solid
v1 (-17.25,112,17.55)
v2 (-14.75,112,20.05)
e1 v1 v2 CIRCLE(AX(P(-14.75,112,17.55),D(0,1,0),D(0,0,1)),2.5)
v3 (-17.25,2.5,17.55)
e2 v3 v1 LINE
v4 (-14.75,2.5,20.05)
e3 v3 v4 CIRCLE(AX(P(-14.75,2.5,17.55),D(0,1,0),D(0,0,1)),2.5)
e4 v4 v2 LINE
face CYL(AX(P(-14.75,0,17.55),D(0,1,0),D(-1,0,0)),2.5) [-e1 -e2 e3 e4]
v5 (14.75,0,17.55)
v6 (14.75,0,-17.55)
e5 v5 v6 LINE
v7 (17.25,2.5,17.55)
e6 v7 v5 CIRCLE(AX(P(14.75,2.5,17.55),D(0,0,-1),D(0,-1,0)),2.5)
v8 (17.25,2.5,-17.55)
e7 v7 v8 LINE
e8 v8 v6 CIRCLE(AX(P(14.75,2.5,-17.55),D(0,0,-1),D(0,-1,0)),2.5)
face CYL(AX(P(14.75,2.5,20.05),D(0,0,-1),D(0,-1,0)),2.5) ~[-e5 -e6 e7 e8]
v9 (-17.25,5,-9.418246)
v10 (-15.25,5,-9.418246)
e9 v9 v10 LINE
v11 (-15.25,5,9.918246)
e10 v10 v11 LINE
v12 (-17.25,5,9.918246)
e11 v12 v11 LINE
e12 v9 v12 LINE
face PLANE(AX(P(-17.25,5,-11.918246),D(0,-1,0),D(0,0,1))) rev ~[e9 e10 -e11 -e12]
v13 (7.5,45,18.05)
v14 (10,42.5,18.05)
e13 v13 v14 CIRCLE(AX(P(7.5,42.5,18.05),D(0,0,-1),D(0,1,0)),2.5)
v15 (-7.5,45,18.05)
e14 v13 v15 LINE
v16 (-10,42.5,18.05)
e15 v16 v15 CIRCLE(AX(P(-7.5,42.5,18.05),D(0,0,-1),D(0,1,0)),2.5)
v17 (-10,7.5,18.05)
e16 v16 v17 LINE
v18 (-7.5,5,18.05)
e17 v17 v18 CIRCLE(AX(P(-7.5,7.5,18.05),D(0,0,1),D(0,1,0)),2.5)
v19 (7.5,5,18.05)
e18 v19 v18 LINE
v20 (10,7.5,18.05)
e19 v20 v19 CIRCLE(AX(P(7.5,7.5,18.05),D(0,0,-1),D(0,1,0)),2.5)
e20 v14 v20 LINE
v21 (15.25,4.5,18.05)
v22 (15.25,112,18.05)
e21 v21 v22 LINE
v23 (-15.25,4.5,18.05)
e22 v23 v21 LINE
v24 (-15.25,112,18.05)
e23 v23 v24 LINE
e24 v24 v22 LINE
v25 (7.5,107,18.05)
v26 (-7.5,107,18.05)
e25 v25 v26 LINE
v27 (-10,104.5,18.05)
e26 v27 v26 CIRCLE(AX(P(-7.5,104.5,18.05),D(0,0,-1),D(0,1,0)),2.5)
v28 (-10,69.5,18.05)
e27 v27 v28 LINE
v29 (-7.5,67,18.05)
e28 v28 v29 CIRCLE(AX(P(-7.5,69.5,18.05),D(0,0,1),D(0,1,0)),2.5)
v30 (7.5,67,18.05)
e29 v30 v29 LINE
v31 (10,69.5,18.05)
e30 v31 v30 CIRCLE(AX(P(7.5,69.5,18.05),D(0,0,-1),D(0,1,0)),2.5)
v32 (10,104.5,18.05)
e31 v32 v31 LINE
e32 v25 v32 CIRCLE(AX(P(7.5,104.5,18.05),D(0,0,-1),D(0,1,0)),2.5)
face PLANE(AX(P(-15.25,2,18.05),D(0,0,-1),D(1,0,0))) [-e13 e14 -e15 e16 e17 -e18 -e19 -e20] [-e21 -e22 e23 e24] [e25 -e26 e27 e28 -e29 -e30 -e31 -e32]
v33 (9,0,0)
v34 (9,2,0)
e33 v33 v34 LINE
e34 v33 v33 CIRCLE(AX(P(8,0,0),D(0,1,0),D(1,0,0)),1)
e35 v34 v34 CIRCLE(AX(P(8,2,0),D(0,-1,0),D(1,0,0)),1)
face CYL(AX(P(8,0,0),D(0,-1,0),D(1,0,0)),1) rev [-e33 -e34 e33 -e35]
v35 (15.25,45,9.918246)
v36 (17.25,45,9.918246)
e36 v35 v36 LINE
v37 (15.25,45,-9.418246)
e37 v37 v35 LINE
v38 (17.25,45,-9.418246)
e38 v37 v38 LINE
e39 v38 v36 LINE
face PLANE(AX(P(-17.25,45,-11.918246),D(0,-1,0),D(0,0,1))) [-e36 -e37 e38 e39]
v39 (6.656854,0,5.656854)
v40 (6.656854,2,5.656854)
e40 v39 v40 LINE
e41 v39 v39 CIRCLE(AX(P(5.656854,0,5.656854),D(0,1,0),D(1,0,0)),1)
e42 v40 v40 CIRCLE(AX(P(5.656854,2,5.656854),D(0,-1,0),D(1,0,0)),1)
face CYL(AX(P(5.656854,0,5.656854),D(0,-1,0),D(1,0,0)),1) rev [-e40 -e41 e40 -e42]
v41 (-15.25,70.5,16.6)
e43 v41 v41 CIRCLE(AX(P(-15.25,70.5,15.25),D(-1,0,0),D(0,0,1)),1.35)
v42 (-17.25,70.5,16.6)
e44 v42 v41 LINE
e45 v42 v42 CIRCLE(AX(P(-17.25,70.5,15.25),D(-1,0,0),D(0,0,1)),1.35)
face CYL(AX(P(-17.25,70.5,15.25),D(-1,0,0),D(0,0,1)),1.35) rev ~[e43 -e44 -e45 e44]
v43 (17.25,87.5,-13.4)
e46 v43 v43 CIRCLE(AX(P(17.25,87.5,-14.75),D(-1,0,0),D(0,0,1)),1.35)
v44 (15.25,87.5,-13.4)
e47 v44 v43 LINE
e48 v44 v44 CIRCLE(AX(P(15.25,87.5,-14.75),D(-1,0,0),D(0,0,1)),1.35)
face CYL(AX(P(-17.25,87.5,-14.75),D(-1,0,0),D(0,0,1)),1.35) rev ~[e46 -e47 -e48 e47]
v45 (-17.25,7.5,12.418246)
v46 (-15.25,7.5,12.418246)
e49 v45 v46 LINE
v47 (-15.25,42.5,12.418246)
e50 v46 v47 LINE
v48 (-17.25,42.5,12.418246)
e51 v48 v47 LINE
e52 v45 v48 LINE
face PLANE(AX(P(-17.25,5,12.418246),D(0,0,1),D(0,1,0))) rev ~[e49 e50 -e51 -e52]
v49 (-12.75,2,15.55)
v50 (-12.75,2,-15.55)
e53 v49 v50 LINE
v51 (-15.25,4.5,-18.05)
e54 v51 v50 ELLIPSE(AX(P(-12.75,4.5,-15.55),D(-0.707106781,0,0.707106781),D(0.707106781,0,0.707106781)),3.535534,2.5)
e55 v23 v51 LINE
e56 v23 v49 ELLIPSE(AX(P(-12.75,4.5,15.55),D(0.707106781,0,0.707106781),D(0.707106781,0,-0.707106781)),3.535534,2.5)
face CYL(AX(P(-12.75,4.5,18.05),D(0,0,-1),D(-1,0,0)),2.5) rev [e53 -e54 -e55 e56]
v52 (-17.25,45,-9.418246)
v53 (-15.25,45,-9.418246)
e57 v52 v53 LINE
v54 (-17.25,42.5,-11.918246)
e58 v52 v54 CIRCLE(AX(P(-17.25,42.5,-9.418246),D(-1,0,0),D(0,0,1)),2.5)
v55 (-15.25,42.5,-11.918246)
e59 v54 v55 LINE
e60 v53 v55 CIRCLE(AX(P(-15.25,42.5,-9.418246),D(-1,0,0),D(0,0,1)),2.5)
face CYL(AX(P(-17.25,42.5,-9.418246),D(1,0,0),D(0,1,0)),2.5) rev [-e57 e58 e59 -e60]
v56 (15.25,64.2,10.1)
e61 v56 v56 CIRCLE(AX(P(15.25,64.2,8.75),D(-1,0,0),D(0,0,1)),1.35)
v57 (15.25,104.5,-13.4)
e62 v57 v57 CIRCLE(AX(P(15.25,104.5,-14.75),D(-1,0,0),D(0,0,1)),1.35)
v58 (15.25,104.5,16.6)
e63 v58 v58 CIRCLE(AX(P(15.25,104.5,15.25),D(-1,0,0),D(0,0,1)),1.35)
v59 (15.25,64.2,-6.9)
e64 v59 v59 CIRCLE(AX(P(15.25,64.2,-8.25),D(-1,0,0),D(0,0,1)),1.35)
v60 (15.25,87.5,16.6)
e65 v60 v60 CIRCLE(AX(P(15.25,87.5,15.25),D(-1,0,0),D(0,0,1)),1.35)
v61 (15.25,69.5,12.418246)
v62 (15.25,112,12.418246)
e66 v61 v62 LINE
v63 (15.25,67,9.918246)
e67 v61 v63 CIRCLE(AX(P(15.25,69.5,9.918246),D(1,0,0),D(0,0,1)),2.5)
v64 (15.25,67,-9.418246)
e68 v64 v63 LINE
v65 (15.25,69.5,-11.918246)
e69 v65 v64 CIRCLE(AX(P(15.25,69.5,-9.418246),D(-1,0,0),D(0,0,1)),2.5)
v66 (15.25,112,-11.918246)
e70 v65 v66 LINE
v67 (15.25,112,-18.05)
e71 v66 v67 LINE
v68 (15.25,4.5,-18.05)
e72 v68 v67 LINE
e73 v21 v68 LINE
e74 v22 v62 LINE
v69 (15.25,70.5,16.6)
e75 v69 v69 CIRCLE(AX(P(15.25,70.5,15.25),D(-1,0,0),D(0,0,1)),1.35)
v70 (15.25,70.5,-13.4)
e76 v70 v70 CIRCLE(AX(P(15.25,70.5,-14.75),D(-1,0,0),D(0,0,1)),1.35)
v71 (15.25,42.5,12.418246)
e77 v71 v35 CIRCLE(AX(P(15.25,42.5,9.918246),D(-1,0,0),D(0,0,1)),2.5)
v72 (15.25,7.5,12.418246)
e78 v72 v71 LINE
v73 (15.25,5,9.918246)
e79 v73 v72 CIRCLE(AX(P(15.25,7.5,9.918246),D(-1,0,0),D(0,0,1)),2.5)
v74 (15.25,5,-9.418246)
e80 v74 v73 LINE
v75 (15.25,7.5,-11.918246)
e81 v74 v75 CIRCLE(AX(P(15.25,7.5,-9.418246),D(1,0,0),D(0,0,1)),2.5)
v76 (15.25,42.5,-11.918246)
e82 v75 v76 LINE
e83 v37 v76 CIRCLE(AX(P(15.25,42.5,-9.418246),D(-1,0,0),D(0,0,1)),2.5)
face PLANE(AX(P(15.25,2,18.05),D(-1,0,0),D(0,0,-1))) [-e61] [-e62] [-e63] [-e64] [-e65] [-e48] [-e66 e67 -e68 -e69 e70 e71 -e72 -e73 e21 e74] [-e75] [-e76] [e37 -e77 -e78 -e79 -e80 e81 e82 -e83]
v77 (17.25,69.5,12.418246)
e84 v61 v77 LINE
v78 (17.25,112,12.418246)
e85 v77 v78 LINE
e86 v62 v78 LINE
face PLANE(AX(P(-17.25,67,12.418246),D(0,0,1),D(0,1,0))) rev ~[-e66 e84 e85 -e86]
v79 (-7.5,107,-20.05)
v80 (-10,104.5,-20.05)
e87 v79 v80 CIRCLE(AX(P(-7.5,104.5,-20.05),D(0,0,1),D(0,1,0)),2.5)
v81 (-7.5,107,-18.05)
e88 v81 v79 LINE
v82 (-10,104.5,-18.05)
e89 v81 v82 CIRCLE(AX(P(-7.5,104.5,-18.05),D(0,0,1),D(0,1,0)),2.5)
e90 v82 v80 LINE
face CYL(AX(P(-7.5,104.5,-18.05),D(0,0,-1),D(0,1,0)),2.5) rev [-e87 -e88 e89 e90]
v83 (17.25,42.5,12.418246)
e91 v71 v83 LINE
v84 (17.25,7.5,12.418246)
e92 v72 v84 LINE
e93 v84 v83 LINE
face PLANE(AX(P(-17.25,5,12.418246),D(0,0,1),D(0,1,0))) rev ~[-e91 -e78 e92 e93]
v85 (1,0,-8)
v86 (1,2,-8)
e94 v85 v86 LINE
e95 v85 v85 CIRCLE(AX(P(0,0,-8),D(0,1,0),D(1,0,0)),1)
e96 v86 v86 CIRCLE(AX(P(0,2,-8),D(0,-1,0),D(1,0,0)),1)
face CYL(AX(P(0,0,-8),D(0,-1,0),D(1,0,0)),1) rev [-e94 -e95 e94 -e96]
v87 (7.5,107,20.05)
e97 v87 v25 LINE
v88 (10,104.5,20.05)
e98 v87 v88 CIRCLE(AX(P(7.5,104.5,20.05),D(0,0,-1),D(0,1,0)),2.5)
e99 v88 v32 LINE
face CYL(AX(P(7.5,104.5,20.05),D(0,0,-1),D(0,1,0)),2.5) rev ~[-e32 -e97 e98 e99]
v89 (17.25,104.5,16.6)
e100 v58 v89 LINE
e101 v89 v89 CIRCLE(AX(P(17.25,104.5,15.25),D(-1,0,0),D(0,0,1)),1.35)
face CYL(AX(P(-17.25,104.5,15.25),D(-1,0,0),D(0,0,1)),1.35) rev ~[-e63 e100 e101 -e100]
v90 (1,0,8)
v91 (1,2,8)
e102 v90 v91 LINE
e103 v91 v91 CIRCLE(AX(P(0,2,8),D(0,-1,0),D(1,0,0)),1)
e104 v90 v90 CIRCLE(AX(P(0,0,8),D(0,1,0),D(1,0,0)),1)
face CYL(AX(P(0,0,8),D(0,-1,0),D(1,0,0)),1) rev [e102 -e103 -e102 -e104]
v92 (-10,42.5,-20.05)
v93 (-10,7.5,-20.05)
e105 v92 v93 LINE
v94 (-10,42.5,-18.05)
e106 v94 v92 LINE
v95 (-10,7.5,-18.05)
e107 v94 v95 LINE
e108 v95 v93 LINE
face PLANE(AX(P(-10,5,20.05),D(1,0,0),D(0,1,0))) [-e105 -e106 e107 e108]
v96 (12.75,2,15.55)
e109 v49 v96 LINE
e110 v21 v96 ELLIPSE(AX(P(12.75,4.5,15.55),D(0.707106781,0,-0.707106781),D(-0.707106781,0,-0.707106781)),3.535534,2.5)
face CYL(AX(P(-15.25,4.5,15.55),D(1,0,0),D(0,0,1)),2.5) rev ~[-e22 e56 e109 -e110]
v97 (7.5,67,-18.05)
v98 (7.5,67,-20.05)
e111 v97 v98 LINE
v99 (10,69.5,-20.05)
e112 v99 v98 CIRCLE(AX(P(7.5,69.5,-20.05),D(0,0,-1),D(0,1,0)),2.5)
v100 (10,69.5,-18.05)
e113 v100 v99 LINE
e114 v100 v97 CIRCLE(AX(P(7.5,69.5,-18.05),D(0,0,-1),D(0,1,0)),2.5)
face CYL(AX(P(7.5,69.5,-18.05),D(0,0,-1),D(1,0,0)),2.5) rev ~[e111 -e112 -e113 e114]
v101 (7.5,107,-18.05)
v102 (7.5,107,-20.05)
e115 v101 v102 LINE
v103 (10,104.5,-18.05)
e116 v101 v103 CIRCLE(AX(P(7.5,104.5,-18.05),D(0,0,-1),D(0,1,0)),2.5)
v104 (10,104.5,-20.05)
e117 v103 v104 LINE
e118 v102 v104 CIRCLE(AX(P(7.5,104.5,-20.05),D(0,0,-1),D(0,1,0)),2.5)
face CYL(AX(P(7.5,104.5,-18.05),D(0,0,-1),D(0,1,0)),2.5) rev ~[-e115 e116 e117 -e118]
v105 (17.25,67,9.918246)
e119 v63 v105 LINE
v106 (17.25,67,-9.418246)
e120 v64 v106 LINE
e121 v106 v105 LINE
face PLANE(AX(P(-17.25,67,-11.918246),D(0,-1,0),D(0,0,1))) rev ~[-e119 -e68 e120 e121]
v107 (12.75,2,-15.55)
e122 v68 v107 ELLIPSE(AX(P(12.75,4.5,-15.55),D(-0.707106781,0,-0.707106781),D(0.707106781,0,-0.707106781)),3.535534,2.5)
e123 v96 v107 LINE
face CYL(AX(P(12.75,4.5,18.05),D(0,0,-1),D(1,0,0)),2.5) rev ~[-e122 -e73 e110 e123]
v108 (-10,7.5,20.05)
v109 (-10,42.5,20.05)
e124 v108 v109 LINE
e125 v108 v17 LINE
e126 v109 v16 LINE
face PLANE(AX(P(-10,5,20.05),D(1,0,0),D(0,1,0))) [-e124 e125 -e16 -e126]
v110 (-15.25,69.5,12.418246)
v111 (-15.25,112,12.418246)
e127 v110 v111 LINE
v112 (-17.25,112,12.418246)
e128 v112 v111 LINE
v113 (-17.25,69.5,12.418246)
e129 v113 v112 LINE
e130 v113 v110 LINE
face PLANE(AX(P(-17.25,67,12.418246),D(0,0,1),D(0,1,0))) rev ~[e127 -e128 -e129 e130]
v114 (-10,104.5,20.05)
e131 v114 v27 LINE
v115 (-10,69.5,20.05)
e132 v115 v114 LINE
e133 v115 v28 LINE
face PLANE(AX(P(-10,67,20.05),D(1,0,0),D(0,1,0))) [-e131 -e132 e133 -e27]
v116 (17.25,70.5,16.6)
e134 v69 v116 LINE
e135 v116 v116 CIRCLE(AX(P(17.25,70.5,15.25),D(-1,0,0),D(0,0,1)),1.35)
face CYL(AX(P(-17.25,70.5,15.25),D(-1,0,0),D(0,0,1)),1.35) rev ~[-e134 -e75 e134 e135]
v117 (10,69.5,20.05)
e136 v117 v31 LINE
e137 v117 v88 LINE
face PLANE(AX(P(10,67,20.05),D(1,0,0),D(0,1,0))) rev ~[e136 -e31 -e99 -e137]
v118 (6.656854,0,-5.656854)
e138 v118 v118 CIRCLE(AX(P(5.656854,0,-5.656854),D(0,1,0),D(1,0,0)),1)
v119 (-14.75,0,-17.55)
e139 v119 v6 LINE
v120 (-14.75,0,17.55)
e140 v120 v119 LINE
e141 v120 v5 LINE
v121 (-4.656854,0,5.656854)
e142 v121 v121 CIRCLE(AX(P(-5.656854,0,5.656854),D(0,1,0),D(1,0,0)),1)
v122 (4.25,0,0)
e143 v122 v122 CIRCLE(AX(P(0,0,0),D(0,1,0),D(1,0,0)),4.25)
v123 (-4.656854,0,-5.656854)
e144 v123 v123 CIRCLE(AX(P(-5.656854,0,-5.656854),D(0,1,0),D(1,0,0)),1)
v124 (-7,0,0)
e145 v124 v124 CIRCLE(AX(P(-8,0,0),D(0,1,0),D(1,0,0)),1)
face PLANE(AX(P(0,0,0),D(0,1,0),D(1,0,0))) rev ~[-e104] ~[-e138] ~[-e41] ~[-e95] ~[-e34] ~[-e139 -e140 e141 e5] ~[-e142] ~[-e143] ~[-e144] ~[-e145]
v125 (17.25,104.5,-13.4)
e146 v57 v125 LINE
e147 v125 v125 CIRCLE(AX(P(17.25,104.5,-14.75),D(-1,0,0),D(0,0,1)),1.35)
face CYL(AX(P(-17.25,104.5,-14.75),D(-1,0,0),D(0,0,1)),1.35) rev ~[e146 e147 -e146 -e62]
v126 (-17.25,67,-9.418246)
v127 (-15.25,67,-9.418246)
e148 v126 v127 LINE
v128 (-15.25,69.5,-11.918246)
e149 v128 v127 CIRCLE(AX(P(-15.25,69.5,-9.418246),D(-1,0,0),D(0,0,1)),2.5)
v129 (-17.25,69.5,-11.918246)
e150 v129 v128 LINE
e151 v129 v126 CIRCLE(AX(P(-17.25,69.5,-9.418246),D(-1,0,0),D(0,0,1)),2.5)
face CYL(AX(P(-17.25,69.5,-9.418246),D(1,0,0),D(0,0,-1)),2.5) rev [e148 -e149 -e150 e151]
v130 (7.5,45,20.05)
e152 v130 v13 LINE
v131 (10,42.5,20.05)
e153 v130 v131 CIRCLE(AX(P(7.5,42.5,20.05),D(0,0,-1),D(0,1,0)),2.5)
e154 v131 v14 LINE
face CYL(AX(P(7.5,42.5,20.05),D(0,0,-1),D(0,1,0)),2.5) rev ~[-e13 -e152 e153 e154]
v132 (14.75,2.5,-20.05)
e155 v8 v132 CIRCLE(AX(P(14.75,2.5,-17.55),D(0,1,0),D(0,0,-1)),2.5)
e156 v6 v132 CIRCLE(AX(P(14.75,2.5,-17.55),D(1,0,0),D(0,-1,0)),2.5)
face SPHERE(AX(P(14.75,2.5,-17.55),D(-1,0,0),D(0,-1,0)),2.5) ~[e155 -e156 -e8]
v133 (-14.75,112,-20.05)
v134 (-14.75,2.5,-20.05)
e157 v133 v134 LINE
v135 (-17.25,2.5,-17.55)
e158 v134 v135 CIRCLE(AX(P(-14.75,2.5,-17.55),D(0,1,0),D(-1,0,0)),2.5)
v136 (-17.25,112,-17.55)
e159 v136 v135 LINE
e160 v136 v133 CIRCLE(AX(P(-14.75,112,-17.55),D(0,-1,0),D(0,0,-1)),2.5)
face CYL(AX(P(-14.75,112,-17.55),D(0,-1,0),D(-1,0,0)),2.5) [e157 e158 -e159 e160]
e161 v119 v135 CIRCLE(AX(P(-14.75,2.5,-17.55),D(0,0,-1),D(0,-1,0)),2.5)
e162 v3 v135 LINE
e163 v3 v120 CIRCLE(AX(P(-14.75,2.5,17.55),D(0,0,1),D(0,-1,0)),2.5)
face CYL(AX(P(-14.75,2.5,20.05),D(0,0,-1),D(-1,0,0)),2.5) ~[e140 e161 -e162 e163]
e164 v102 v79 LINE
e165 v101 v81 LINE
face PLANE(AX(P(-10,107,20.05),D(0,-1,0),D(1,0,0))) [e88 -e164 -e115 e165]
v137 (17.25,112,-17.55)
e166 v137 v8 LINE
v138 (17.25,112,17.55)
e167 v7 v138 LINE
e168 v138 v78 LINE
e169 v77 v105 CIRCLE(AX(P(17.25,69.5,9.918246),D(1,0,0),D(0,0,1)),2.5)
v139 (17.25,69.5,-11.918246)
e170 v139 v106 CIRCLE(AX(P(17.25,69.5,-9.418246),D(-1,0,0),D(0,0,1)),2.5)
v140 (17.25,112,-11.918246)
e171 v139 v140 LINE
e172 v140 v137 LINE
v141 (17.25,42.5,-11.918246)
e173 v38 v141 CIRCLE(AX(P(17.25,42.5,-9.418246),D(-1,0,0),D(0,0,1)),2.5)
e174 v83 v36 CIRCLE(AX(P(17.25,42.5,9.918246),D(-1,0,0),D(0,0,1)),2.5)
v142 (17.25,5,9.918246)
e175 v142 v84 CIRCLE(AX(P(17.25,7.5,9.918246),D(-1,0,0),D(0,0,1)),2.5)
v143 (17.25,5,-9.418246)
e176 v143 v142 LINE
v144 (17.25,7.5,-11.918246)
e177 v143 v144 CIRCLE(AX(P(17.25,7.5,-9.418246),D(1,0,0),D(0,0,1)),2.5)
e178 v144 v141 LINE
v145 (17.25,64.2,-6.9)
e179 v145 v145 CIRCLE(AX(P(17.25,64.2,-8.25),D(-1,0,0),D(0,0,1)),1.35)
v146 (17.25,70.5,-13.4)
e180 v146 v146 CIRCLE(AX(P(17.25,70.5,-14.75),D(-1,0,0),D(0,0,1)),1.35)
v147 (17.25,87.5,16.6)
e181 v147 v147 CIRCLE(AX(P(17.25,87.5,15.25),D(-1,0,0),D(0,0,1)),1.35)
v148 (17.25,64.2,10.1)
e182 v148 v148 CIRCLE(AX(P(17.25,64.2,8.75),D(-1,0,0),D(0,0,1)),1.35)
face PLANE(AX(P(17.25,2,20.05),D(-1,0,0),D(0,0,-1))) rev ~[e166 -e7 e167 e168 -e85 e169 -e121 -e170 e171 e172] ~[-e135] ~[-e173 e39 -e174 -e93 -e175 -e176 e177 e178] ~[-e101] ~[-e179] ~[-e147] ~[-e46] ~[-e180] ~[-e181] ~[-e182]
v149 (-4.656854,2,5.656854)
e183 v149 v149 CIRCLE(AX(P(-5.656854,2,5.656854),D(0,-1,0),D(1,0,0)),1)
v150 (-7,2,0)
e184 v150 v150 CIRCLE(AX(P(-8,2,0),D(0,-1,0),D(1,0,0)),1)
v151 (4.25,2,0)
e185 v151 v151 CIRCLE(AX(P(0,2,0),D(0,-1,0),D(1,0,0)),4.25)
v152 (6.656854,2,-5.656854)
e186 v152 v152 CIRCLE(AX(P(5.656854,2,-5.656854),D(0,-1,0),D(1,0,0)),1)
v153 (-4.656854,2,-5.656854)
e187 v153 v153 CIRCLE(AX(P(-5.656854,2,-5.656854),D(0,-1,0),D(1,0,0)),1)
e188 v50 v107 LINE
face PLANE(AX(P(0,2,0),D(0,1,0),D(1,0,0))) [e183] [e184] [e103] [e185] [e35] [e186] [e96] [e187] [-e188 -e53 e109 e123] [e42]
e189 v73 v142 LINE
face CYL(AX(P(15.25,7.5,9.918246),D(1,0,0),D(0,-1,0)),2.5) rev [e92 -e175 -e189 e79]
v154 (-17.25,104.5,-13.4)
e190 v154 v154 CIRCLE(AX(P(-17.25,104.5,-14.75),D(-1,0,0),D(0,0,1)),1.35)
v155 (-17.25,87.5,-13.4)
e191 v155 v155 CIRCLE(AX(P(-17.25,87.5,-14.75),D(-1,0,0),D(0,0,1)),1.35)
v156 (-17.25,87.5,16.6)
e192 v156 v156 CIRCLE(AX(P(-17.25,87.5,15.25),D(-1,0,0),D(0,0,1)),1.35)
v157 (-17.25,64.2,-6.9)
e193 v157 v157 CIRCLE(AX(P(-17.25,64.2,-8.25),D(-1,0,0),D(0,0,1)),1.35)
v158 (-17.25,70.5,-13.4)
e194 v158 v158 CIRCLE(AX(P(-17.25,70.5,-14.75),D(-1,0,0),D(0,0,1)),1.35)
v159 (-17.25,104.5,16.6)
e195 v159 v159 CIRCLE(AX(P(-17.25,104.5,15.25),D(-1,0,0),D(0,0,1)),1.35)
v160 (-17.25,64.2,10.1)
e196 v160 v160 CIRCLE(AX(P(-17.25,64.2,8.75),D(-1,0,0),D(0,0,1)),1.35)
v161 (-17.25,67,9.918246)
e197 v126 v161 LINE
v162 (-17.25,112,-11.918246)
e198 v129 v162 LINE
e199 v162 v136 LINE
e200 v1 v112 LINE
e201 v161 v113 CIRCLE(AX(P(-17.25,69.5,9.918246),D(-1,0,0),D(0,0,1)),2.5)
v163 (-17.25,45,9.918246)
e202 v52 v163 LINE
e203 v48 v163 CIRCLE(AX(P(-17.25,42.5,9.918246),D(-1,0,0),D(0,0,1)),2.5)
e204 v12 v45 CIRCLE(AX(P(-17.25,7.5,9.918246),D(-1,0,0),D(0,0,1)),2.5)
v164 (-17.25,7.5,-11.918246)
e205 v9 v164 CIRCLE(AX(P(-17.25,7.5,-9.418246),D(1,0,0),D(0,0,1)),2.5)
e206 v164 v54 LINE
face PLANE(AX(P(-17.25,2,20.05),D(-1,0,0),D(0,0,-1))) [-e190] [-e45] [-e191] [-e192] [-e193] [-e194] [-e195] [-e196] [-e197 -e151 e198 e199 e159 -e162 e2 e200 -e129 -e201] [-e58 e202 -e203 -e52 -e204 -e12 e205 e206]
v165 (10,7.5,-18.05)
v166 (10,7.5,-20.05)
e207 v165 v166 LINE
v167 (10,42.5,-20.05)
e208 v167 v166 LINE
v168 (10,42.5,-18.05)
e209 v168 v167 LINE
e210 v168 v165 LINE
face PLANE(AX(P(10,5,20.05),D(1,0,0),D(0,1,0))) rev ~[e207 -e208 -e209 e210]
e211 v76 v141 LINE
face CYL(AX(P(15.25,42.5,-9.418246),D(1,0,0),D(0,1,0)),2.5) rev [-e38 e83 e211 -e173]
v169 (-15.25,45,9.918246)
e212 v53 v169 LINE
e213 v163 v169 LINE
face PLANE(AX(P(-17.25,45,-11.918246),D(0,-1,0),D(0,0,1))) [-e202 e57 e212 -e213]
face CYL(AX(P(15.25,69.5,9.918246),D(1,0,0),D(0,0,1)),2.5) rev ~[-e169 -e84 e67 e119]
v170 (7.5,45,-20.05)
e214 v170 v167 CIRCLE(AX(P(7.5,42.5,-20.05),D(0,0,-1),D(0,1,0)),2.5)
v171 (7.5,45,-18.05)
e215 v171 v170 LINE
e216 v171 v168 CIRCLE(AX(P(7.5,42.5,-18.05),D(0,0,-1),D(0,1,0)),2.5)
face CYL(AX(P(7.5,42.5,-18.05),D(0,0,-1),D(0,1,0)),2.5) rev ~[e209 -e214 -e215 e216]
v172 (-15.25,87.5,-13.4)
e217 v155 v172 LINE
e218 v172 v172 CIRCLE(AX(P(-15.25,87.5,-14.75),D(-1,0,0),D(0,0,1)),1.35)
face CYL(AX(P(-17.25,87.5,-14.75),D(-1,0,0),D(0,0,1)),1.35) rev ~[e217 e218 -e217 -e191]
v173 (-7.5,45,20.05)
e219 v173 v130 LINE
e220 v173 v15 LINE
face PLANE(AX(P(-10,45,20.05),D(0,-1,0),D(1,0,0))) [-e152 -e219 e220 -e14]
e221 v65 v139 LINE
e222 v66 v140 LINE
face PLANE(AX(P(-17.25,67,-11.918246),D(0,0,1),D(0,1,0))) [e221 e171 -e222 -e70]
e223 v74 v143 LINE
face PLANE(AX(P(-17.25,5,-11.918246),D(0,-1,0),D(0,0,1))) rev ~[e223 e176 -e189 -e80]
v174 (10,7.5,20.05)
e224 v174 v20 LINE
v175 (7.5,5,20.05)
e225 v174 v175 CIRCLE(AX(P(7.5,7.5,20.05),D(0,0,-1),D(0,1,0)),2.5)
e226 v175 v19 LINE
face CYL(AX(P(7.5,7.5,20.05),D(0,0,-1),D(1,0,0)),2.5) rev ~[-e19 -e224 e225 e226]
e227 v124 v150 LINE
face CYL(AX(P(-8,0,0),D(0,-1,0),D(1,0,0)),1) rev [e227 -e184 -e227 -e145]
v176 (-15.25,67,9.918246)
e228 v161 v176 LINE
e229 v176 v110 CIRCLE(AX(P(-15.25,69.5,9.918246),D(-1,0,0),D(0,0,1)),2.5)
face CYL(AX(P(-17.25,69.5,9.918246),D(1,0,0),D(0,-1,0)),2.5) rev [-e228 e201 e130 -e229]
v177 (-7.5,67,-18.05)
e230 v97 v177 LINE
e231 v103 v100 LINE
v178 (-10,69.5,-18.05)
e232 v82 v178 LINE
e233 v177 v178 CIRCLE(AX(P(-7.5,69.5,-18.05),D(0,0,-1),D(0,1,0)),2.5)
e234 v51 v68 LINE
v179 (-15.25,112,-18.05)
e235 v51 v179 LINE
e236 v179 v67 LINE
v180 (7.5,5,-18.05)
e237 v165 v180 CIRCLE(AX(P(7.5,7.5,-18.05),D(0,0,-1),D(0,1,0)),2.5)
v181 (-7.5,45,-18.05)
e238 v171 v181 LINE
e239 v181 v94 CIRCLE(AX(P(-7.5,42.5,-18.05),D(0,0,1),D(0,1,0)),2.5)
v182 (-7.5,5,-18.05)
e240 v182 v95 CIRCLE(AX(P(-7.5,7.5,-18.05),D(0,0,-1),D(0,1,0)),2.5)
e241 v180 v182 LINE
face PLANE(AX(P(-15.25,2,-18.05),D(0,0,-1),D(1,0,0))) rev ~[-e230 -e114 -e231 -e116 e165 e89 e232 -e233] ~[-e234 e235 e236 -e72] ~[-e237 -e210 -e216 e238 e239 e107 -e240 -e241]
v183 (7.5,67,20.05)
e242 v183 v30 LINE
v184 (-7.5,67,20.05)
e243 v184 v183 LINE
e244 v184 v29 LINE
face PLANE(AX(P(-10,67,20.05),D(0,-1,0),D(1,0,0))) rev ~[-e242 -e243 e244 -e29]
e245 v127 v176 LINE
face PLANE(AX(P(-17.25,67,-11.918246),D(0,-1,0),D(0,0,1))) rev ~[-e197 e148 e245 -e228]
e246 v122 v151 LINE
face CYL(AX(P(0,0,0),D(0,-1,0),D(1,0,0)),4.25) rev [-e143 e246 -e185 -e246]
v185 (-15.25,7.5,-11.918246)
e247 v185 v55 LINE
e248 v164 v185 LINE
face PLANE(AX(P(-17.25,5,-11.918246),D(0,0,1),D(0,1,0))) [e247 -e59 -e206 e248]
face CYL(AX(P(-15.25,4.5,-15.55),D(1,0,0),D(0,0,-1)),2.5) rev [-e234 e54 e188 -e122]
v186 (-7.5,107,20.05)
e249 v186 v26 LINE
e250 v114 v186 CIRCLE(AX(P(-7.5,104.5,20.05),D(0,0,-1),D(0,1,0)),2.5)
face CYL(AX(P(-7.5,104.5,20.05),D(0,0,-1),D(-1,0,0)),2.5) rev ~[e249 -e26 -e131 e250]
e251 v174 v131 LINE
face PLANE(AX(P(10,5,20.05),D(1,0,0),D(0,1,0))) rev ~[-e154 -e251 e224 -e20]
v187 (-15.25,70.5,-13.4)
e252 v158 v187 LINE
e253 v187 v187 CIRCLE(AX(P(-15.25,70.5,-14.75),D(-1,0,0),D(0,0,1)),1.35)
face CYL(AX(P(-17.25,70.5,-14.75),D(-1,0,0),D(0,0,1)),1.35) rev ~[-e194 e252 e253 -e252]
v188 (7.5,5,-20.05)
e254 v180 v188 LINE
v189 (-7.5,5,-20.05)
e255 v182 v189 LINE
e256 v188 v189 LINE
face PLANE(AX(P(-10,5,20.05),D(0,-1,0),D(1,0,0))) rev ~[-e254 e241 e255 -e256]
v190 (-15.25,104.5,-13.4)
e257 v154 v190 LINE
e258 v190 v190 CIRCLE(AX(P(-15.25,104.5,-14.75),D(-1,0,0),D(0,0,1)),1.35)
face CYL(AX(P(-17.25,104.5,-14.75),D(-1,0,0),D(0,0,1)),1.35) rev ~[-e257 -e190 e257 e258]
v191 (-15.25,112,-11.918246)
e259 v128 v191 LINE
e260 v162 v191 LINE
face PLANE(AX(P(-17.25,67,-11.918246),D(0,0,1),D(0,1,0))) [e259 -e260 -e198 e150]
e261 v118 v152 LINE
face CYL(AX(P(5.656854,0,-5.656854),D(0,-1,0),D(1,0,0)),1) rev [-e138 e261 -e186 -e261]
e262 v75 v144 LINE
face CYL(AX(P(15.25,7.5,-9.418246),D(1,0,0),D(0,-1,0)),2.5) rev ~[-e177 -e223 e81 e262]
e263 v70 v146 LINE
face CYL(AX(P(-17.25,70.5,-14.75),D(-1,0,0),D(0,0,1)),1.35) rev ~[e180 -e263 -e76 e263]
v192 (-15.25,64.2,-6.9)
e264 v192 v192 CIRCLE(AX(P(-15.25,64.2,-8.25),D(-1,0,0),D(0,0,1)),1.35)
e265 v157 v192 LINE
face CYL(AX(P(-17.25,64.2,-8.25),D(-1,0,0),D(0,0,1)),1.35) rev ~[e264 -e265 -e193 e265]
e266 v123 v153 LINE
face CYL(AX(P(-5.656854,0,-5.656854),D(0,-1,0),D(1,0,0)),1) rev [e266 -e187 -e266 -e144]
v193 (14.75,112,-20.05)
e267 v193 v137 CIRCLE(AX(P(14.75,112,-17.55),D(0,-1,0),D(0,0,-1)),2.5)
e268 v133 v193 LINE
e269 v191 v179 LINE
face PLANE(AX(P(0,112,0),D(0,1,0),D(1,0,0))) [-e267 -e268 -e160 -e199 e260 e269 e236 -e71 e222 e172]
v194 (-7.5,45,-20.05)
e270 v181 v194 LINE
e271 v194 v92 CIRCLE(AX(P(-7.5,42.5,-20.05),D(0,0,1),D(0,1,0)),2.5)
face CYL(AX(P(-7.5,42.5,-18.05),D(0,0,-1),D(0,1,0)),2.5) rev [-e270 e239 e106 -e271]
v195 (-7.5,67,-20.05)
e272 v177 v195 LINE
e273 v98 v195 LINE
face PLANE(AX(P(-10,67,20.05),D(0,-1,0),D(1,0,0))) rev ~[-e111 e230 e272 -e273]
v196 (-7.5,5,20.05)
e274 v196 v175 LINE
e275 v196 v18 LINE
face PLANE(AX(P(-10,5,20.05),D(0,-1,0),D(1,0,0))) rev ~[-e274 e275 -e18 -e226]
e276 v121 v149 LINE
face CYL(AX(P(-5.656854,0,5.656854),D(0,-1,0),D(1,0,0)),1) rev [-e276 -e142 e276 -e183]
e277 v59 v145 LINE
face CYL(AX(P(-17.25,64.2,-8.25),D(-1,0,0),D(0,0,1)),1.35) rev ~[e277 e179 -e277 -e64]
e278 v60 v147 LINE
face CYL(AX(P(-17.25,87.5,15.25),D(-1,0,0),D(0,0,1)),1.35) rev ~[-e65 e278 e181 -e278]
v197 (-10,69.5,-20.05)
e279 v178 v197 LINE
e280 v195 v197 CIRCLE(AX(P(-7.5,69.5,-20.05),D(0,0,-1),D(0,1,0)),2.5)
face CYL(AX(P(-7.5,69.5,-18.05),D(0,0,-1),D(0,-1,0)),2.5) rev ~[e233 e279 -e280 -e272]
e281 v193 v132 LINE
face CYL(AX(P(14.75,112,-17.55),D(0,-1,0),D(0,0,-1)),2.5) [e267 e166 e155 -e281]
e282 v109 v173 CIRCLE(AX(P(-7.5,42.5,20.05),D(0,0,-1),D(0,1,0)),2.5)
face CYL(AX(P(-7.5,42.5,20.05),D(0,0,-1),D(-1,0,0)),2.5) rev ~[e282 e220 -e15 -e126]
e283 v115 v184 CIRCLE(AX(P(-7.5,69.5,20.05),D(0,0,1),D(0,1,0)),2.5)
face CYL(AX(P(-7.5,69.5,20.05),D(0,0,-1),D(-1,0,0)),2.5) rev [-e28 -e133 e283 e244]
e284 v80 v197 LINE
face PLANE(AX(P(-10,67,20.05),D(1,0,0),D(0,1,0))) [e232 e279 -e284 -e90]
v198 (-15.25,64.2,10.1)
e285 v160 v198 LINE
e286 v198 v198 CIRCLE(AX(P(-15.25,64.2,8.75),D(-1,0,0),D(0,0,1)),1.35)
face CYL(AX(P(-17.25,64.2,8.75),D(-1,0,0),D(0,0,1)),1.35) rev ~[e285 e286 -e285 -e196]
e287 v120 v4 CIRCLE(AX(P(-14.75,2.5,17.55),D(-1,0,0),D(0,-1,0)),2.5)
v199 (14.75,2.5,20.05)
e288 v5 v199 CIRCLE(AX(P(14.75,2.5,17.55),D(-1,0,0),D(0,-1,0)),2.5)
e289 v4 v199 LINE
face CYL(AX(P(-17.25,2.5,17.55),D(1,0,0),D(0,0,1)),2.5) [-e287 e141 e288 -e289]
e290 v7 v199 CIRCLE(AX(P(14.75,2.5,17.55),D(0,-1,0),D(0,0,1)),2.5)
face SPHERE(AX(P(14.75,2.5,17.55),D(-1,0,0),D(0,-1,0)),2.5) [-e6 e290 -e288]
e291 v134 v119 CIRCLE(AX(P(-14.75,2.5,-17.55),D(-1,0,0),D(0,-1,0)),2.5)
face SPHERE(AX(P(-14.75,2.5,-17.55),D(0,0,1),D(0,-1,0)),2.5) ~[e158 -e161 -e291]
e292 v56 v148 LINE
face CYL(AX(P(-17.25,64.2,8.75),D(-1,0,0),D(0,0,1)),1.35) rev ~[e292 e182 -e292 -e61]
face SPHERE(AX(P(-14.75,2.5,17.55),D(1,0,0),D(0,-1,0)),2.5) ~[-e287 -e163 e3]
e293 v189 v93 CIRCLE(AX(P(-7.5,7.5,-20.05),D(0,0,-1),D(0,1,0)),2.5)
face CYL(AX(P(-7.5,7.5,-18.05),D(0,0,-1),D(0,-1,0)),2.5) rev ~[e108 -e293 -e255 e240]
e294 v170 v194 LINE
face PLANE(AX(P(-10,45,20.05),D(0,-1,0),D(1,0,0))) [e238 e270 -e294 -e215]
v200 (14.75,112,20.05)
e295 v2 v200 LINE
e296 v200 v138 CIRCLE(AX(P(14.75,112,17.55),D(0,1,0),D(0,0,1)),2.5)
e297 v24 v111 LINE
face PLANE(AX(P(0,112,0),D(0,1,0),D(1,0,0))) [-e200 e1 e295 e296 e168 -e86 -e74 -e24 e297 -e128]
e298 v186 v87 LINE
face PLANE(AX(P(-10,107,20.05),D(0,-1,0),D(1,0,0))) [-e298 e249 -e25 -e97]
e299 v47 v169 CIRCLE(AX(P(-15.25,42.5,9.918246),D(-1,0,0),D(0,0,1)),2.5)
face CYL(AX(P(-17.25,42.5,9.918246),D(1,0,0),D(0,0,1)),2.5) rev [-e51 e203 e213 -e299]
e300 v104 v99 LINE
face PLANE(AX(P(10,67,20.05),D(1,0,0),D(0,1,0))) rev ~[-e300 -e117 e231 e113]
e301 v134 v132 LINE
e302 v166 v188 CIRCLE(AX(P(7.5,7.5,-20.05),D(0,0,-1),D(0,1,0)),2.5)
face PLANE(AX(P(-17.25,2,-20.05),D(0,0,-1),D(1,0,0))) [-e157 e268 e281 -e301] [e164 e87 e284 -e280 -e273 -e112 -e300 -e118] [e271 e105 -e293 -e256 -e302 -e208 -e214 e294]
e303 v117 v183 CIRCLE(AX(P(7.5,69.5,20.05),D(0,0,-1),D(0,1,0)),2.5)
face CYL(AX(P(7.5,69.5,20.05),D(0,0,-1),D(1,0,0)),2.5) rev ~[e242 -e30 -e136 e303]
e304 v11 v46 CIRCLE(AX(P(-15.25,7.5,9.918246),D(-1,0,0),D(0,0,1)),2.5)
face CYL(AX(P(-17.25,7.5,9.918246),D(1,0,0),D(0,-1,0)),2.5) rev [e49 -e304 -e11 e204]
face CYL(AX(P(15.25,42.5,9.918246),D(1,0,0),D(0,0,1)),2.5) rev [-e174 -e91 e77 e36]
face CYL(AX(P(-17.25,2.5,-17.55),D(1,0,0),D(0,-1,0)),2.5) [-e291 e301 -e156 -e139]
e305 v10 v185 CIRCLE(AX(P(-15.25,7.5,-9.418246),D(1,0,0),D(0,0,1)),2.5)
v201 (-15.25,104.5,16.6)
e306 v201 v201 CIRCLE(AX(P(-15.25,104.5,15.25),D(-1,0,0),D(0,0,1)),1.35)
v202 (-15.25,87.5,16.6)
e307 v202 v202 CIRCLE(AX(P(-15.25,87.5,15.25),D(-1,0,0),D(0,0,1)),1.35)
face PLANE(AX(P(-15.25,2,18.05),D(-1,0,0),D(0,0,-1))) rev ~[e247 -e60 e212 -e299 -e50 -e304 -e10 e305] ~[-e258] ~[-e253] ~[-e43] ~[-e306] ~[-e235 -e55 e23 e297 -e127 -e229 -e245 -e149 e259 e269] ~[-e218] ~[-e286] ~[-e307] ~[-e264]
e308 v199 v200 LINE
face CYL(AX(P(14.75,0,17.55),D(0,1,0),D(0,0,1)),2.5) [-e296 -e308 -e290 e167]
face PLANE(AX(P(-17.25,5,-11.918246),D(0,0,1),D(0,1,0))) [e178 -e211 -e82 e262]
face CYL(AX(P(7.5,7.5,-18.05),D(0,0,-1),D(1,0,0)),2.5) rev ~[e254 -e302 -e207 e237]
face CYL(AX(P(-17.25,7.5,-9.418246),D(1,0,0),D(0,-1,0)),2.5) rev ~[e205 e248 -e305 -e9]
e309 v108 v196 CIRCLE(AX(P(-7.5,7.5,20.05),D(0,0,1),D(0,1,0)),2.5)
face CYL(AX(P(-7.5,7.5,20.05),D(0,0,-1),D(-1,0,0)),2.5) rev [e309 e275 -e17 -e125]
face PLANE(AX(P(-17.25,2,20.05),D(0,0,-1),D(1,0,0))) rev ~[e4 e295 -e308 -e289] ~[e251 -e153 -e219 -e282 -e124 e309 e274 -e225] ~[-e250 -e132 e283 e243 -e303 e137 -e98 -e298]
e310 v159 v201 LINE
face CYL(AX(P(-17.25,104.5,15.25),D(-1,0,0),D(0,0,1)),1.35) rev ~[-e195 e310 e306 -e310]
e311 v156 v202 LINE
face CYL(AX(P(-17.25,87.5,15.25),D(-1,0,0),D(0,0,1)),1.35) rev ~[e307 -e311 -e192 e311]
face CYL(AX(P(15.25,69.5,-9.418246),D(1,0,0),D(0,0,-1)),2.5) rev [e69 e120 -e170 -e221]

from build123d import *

# Parameters (mm, degrees)
SKETCH2_W           = 34.5
SKETCH2_H           = 40.1
BOSS_EXTRUDE1_DEPTH = 2
SKETCH1_R           = 1
SKETCH1_R_2         = 4.25
CUT_EXTRUDE2_DEPTH  = 3
SKETCH3_W           = 34.5
SKETCH3_H           = 40.1
SKETCH3_W_2         = 30.5
SKETCH3_H_2         = 36.1
BOSS_EXTRUDE3_DEPTH = 110
SKETCH4_W           = 24.336491673
SKETCH4_H           = 45
SKETCH4_H_2         = 40
CUT_EXTRUDE3_DEPTH  = 35.5
SKETCH5_W           = 20
SKETCH5_H           = 40
CUT_EXTRUDE4_DEPTH  = 41.1
FILLET1_R           = 2.5
SKETCH7_R           = 1.350000001
CUT_EXTRUDE5_DEPTH  = 35.5


with BuildPart() as part:
    # Sketch2 → Boss-Extrude1 (new body)
    with BuildSketch(Plane(origin=(0, 0, 0), x_dir=(1, 0, 0), z_dir=(0, 1, 0))):
        Rectangle(SKETCH2_W, SKETCH2_H)
    extrude(amount=BOSS_EXTRUDE1_DEPTH)

    # Sketch1 → Cut-Extrude2 (cut, through all)
    with BuildSketch(Plane(origin=(0, 0, 0), x_dir=(1, 0, 0), z_dir=(0, 1, 0))):
        with Locations((0, 8)):
            Circle(SKETCH1_R)
        with Locations((5.656854249, 5.656854249)):
            Circle(SKETCH1_R)
        with Locations((8, 0)):
            Circle(SKETCH1_R)
        with Locations((5.656854249, -5.656854249)):
            Circle(SKETCH1_R)
        with Locations((0, -8)):
            Circle(SKETCH1_R)
        with Locations((-5.656854249, -5.656854249)):
            Circle(SKETCH1_R)
        with Locations((-8, 0)):
            Circle(SKETCH1_R)
        with Locations((-5.656854249, 5.656854249)):
            Circle(SKETCH1_R)
        Circle(SKETCH1_R_2)
    extrude(amount=CUT_EXTRUDE2_DEPTH, mode=Mode.SUBTRACT)

    # Sketch3 → Boss-Extrude3 (add)
    with BuildSketch(Plane(origin=(0, 2, 0), x_dir=(1, 0, 0), z_dir=(0, 1, 0))):
        Rectangle(SKETCH3_W, SKETCH3_H)
        Rectangle(SKETCH3_W_2, SKETCH3_H_2, mode=Mode.SUBTRACT)
    extrude(amount=BOSS_EXTRUDE3_DEPTH)

    # Sketch4 → Cut-Extrude3 (cut, through all)
    with BuildSketch(Plane.ZY.offset(17.25)):
        with Locations((0.249999999, 89.5)):
            Rectangle(SKETCH4_W, SKETCH4_H)
        with Locations((0.249999999, 25)):
            Rectangle(SKETCH4_W, SKETCH4_H_2)
    extrude(amount=-CUT_EXTRUDE3_DEPTH, mode=Mode.SUBTRACT)

    # Sketch5 → Cut-Extrude4 (cut, through all)
    with BuildSketch(Plane.XY.offset(20.05)):
        with Locations((0, 25)):
            Rectangle(SKETCH5_W, SKETCH5_H)
        with Locations((0, 87)):
            Rectangle(SKETCH5_W, SKETCH5_H)
    extrude(amount=-CUT_EXTRUDE4_DEPTH, mode=Mode.SUBTRACT)

    # Fillet1
    fillet1_edges = [part.edges().sort_by_distance(p)[0] for p in [
        (16.25, 5, -11.918245837),
        (16.25, 45, -11.918245837),
        (16.25, 45, 12.418245836),
        (16.25, 5, 12.418245836),
        (-16.25, 5, -11.918245837),
        (-16.25, 45, -11.918245837),
        (-16.25, 45, 12.418245836),
        (-16.25, 5, 12.418245836),
        (10, 45, -19.05),
        (10, 5, -19.05),
        (-10, 5, -19.05),
        (-10, 45, -19.05),
        (10, 45, 19.05),
        (10, 5, 19.05),
        (-10, 5, 19.05),
        (-10, 45, 19.05),
        (10, 107, -19.05),
        (10, 67, -19.05),
        (-10, 67, -19.05),
        (-10, 107, -19.05),
        (10, 107, 19.05),
        (10, 67, 19.05),
        (-10, 67, 19.05),
        (-10, 107, 19.05),
        (0, 0, 20.05),
        (-17.25, 0, 0),
        (0, 0, -20.05),
        (15.25, 2, 0),
        (0, 2, -18.05),
        (-15.25, 2, 0),
        (0, 2, 18.05),
        (17.25, 0, 0),
        (17.25, 56, 20.05),
        (-17.25, 56, 20.05),
        (-17.25, 56, -20.05),
        (17.25, 56, -20.05),
        (16.25, 67, 12.418245836),
        (16.25, 67, -11.918245837),
        (-16.25, 67, 12.418245836),
        (-16.25, 67, -11.918245837),
    ]]
    fillet(fillet1_edges, radius=FILLET1_R)

    # Sketch7 → Cut-Extrude5 (cut, through all)
    with BuildSketch(Plane.ZY.offset(17.25)):
        with Locations((-14.75, 104.5)):
            Circle(SKETCH7_R)
        with Locations((-14.75, 87.5)):
            Circle(SKETCH7_R)
        with Locations((-14.75, 70.5)):
            Circle(SKETCH7_R)
        with Locations((15.25, 104.5)):
            Circle(SKETCH7_R)
        with Locations((15.25, 87.5)):
            Circle(SKETCH7_R)
        with Locations((15.25, 70.5)):
            Circle(SKETCH7_R)
        with Locations((-8.25, 64.2)):
            Circle(SKETCH7_R)
        with Locations((8.75, 64.2)):
            Circle(SKETCH7_R)
    extrude(amount=-CUT_EXTRUDE5_DEPTH, mode=Mode.SUBTRACT)


solid = part.part
